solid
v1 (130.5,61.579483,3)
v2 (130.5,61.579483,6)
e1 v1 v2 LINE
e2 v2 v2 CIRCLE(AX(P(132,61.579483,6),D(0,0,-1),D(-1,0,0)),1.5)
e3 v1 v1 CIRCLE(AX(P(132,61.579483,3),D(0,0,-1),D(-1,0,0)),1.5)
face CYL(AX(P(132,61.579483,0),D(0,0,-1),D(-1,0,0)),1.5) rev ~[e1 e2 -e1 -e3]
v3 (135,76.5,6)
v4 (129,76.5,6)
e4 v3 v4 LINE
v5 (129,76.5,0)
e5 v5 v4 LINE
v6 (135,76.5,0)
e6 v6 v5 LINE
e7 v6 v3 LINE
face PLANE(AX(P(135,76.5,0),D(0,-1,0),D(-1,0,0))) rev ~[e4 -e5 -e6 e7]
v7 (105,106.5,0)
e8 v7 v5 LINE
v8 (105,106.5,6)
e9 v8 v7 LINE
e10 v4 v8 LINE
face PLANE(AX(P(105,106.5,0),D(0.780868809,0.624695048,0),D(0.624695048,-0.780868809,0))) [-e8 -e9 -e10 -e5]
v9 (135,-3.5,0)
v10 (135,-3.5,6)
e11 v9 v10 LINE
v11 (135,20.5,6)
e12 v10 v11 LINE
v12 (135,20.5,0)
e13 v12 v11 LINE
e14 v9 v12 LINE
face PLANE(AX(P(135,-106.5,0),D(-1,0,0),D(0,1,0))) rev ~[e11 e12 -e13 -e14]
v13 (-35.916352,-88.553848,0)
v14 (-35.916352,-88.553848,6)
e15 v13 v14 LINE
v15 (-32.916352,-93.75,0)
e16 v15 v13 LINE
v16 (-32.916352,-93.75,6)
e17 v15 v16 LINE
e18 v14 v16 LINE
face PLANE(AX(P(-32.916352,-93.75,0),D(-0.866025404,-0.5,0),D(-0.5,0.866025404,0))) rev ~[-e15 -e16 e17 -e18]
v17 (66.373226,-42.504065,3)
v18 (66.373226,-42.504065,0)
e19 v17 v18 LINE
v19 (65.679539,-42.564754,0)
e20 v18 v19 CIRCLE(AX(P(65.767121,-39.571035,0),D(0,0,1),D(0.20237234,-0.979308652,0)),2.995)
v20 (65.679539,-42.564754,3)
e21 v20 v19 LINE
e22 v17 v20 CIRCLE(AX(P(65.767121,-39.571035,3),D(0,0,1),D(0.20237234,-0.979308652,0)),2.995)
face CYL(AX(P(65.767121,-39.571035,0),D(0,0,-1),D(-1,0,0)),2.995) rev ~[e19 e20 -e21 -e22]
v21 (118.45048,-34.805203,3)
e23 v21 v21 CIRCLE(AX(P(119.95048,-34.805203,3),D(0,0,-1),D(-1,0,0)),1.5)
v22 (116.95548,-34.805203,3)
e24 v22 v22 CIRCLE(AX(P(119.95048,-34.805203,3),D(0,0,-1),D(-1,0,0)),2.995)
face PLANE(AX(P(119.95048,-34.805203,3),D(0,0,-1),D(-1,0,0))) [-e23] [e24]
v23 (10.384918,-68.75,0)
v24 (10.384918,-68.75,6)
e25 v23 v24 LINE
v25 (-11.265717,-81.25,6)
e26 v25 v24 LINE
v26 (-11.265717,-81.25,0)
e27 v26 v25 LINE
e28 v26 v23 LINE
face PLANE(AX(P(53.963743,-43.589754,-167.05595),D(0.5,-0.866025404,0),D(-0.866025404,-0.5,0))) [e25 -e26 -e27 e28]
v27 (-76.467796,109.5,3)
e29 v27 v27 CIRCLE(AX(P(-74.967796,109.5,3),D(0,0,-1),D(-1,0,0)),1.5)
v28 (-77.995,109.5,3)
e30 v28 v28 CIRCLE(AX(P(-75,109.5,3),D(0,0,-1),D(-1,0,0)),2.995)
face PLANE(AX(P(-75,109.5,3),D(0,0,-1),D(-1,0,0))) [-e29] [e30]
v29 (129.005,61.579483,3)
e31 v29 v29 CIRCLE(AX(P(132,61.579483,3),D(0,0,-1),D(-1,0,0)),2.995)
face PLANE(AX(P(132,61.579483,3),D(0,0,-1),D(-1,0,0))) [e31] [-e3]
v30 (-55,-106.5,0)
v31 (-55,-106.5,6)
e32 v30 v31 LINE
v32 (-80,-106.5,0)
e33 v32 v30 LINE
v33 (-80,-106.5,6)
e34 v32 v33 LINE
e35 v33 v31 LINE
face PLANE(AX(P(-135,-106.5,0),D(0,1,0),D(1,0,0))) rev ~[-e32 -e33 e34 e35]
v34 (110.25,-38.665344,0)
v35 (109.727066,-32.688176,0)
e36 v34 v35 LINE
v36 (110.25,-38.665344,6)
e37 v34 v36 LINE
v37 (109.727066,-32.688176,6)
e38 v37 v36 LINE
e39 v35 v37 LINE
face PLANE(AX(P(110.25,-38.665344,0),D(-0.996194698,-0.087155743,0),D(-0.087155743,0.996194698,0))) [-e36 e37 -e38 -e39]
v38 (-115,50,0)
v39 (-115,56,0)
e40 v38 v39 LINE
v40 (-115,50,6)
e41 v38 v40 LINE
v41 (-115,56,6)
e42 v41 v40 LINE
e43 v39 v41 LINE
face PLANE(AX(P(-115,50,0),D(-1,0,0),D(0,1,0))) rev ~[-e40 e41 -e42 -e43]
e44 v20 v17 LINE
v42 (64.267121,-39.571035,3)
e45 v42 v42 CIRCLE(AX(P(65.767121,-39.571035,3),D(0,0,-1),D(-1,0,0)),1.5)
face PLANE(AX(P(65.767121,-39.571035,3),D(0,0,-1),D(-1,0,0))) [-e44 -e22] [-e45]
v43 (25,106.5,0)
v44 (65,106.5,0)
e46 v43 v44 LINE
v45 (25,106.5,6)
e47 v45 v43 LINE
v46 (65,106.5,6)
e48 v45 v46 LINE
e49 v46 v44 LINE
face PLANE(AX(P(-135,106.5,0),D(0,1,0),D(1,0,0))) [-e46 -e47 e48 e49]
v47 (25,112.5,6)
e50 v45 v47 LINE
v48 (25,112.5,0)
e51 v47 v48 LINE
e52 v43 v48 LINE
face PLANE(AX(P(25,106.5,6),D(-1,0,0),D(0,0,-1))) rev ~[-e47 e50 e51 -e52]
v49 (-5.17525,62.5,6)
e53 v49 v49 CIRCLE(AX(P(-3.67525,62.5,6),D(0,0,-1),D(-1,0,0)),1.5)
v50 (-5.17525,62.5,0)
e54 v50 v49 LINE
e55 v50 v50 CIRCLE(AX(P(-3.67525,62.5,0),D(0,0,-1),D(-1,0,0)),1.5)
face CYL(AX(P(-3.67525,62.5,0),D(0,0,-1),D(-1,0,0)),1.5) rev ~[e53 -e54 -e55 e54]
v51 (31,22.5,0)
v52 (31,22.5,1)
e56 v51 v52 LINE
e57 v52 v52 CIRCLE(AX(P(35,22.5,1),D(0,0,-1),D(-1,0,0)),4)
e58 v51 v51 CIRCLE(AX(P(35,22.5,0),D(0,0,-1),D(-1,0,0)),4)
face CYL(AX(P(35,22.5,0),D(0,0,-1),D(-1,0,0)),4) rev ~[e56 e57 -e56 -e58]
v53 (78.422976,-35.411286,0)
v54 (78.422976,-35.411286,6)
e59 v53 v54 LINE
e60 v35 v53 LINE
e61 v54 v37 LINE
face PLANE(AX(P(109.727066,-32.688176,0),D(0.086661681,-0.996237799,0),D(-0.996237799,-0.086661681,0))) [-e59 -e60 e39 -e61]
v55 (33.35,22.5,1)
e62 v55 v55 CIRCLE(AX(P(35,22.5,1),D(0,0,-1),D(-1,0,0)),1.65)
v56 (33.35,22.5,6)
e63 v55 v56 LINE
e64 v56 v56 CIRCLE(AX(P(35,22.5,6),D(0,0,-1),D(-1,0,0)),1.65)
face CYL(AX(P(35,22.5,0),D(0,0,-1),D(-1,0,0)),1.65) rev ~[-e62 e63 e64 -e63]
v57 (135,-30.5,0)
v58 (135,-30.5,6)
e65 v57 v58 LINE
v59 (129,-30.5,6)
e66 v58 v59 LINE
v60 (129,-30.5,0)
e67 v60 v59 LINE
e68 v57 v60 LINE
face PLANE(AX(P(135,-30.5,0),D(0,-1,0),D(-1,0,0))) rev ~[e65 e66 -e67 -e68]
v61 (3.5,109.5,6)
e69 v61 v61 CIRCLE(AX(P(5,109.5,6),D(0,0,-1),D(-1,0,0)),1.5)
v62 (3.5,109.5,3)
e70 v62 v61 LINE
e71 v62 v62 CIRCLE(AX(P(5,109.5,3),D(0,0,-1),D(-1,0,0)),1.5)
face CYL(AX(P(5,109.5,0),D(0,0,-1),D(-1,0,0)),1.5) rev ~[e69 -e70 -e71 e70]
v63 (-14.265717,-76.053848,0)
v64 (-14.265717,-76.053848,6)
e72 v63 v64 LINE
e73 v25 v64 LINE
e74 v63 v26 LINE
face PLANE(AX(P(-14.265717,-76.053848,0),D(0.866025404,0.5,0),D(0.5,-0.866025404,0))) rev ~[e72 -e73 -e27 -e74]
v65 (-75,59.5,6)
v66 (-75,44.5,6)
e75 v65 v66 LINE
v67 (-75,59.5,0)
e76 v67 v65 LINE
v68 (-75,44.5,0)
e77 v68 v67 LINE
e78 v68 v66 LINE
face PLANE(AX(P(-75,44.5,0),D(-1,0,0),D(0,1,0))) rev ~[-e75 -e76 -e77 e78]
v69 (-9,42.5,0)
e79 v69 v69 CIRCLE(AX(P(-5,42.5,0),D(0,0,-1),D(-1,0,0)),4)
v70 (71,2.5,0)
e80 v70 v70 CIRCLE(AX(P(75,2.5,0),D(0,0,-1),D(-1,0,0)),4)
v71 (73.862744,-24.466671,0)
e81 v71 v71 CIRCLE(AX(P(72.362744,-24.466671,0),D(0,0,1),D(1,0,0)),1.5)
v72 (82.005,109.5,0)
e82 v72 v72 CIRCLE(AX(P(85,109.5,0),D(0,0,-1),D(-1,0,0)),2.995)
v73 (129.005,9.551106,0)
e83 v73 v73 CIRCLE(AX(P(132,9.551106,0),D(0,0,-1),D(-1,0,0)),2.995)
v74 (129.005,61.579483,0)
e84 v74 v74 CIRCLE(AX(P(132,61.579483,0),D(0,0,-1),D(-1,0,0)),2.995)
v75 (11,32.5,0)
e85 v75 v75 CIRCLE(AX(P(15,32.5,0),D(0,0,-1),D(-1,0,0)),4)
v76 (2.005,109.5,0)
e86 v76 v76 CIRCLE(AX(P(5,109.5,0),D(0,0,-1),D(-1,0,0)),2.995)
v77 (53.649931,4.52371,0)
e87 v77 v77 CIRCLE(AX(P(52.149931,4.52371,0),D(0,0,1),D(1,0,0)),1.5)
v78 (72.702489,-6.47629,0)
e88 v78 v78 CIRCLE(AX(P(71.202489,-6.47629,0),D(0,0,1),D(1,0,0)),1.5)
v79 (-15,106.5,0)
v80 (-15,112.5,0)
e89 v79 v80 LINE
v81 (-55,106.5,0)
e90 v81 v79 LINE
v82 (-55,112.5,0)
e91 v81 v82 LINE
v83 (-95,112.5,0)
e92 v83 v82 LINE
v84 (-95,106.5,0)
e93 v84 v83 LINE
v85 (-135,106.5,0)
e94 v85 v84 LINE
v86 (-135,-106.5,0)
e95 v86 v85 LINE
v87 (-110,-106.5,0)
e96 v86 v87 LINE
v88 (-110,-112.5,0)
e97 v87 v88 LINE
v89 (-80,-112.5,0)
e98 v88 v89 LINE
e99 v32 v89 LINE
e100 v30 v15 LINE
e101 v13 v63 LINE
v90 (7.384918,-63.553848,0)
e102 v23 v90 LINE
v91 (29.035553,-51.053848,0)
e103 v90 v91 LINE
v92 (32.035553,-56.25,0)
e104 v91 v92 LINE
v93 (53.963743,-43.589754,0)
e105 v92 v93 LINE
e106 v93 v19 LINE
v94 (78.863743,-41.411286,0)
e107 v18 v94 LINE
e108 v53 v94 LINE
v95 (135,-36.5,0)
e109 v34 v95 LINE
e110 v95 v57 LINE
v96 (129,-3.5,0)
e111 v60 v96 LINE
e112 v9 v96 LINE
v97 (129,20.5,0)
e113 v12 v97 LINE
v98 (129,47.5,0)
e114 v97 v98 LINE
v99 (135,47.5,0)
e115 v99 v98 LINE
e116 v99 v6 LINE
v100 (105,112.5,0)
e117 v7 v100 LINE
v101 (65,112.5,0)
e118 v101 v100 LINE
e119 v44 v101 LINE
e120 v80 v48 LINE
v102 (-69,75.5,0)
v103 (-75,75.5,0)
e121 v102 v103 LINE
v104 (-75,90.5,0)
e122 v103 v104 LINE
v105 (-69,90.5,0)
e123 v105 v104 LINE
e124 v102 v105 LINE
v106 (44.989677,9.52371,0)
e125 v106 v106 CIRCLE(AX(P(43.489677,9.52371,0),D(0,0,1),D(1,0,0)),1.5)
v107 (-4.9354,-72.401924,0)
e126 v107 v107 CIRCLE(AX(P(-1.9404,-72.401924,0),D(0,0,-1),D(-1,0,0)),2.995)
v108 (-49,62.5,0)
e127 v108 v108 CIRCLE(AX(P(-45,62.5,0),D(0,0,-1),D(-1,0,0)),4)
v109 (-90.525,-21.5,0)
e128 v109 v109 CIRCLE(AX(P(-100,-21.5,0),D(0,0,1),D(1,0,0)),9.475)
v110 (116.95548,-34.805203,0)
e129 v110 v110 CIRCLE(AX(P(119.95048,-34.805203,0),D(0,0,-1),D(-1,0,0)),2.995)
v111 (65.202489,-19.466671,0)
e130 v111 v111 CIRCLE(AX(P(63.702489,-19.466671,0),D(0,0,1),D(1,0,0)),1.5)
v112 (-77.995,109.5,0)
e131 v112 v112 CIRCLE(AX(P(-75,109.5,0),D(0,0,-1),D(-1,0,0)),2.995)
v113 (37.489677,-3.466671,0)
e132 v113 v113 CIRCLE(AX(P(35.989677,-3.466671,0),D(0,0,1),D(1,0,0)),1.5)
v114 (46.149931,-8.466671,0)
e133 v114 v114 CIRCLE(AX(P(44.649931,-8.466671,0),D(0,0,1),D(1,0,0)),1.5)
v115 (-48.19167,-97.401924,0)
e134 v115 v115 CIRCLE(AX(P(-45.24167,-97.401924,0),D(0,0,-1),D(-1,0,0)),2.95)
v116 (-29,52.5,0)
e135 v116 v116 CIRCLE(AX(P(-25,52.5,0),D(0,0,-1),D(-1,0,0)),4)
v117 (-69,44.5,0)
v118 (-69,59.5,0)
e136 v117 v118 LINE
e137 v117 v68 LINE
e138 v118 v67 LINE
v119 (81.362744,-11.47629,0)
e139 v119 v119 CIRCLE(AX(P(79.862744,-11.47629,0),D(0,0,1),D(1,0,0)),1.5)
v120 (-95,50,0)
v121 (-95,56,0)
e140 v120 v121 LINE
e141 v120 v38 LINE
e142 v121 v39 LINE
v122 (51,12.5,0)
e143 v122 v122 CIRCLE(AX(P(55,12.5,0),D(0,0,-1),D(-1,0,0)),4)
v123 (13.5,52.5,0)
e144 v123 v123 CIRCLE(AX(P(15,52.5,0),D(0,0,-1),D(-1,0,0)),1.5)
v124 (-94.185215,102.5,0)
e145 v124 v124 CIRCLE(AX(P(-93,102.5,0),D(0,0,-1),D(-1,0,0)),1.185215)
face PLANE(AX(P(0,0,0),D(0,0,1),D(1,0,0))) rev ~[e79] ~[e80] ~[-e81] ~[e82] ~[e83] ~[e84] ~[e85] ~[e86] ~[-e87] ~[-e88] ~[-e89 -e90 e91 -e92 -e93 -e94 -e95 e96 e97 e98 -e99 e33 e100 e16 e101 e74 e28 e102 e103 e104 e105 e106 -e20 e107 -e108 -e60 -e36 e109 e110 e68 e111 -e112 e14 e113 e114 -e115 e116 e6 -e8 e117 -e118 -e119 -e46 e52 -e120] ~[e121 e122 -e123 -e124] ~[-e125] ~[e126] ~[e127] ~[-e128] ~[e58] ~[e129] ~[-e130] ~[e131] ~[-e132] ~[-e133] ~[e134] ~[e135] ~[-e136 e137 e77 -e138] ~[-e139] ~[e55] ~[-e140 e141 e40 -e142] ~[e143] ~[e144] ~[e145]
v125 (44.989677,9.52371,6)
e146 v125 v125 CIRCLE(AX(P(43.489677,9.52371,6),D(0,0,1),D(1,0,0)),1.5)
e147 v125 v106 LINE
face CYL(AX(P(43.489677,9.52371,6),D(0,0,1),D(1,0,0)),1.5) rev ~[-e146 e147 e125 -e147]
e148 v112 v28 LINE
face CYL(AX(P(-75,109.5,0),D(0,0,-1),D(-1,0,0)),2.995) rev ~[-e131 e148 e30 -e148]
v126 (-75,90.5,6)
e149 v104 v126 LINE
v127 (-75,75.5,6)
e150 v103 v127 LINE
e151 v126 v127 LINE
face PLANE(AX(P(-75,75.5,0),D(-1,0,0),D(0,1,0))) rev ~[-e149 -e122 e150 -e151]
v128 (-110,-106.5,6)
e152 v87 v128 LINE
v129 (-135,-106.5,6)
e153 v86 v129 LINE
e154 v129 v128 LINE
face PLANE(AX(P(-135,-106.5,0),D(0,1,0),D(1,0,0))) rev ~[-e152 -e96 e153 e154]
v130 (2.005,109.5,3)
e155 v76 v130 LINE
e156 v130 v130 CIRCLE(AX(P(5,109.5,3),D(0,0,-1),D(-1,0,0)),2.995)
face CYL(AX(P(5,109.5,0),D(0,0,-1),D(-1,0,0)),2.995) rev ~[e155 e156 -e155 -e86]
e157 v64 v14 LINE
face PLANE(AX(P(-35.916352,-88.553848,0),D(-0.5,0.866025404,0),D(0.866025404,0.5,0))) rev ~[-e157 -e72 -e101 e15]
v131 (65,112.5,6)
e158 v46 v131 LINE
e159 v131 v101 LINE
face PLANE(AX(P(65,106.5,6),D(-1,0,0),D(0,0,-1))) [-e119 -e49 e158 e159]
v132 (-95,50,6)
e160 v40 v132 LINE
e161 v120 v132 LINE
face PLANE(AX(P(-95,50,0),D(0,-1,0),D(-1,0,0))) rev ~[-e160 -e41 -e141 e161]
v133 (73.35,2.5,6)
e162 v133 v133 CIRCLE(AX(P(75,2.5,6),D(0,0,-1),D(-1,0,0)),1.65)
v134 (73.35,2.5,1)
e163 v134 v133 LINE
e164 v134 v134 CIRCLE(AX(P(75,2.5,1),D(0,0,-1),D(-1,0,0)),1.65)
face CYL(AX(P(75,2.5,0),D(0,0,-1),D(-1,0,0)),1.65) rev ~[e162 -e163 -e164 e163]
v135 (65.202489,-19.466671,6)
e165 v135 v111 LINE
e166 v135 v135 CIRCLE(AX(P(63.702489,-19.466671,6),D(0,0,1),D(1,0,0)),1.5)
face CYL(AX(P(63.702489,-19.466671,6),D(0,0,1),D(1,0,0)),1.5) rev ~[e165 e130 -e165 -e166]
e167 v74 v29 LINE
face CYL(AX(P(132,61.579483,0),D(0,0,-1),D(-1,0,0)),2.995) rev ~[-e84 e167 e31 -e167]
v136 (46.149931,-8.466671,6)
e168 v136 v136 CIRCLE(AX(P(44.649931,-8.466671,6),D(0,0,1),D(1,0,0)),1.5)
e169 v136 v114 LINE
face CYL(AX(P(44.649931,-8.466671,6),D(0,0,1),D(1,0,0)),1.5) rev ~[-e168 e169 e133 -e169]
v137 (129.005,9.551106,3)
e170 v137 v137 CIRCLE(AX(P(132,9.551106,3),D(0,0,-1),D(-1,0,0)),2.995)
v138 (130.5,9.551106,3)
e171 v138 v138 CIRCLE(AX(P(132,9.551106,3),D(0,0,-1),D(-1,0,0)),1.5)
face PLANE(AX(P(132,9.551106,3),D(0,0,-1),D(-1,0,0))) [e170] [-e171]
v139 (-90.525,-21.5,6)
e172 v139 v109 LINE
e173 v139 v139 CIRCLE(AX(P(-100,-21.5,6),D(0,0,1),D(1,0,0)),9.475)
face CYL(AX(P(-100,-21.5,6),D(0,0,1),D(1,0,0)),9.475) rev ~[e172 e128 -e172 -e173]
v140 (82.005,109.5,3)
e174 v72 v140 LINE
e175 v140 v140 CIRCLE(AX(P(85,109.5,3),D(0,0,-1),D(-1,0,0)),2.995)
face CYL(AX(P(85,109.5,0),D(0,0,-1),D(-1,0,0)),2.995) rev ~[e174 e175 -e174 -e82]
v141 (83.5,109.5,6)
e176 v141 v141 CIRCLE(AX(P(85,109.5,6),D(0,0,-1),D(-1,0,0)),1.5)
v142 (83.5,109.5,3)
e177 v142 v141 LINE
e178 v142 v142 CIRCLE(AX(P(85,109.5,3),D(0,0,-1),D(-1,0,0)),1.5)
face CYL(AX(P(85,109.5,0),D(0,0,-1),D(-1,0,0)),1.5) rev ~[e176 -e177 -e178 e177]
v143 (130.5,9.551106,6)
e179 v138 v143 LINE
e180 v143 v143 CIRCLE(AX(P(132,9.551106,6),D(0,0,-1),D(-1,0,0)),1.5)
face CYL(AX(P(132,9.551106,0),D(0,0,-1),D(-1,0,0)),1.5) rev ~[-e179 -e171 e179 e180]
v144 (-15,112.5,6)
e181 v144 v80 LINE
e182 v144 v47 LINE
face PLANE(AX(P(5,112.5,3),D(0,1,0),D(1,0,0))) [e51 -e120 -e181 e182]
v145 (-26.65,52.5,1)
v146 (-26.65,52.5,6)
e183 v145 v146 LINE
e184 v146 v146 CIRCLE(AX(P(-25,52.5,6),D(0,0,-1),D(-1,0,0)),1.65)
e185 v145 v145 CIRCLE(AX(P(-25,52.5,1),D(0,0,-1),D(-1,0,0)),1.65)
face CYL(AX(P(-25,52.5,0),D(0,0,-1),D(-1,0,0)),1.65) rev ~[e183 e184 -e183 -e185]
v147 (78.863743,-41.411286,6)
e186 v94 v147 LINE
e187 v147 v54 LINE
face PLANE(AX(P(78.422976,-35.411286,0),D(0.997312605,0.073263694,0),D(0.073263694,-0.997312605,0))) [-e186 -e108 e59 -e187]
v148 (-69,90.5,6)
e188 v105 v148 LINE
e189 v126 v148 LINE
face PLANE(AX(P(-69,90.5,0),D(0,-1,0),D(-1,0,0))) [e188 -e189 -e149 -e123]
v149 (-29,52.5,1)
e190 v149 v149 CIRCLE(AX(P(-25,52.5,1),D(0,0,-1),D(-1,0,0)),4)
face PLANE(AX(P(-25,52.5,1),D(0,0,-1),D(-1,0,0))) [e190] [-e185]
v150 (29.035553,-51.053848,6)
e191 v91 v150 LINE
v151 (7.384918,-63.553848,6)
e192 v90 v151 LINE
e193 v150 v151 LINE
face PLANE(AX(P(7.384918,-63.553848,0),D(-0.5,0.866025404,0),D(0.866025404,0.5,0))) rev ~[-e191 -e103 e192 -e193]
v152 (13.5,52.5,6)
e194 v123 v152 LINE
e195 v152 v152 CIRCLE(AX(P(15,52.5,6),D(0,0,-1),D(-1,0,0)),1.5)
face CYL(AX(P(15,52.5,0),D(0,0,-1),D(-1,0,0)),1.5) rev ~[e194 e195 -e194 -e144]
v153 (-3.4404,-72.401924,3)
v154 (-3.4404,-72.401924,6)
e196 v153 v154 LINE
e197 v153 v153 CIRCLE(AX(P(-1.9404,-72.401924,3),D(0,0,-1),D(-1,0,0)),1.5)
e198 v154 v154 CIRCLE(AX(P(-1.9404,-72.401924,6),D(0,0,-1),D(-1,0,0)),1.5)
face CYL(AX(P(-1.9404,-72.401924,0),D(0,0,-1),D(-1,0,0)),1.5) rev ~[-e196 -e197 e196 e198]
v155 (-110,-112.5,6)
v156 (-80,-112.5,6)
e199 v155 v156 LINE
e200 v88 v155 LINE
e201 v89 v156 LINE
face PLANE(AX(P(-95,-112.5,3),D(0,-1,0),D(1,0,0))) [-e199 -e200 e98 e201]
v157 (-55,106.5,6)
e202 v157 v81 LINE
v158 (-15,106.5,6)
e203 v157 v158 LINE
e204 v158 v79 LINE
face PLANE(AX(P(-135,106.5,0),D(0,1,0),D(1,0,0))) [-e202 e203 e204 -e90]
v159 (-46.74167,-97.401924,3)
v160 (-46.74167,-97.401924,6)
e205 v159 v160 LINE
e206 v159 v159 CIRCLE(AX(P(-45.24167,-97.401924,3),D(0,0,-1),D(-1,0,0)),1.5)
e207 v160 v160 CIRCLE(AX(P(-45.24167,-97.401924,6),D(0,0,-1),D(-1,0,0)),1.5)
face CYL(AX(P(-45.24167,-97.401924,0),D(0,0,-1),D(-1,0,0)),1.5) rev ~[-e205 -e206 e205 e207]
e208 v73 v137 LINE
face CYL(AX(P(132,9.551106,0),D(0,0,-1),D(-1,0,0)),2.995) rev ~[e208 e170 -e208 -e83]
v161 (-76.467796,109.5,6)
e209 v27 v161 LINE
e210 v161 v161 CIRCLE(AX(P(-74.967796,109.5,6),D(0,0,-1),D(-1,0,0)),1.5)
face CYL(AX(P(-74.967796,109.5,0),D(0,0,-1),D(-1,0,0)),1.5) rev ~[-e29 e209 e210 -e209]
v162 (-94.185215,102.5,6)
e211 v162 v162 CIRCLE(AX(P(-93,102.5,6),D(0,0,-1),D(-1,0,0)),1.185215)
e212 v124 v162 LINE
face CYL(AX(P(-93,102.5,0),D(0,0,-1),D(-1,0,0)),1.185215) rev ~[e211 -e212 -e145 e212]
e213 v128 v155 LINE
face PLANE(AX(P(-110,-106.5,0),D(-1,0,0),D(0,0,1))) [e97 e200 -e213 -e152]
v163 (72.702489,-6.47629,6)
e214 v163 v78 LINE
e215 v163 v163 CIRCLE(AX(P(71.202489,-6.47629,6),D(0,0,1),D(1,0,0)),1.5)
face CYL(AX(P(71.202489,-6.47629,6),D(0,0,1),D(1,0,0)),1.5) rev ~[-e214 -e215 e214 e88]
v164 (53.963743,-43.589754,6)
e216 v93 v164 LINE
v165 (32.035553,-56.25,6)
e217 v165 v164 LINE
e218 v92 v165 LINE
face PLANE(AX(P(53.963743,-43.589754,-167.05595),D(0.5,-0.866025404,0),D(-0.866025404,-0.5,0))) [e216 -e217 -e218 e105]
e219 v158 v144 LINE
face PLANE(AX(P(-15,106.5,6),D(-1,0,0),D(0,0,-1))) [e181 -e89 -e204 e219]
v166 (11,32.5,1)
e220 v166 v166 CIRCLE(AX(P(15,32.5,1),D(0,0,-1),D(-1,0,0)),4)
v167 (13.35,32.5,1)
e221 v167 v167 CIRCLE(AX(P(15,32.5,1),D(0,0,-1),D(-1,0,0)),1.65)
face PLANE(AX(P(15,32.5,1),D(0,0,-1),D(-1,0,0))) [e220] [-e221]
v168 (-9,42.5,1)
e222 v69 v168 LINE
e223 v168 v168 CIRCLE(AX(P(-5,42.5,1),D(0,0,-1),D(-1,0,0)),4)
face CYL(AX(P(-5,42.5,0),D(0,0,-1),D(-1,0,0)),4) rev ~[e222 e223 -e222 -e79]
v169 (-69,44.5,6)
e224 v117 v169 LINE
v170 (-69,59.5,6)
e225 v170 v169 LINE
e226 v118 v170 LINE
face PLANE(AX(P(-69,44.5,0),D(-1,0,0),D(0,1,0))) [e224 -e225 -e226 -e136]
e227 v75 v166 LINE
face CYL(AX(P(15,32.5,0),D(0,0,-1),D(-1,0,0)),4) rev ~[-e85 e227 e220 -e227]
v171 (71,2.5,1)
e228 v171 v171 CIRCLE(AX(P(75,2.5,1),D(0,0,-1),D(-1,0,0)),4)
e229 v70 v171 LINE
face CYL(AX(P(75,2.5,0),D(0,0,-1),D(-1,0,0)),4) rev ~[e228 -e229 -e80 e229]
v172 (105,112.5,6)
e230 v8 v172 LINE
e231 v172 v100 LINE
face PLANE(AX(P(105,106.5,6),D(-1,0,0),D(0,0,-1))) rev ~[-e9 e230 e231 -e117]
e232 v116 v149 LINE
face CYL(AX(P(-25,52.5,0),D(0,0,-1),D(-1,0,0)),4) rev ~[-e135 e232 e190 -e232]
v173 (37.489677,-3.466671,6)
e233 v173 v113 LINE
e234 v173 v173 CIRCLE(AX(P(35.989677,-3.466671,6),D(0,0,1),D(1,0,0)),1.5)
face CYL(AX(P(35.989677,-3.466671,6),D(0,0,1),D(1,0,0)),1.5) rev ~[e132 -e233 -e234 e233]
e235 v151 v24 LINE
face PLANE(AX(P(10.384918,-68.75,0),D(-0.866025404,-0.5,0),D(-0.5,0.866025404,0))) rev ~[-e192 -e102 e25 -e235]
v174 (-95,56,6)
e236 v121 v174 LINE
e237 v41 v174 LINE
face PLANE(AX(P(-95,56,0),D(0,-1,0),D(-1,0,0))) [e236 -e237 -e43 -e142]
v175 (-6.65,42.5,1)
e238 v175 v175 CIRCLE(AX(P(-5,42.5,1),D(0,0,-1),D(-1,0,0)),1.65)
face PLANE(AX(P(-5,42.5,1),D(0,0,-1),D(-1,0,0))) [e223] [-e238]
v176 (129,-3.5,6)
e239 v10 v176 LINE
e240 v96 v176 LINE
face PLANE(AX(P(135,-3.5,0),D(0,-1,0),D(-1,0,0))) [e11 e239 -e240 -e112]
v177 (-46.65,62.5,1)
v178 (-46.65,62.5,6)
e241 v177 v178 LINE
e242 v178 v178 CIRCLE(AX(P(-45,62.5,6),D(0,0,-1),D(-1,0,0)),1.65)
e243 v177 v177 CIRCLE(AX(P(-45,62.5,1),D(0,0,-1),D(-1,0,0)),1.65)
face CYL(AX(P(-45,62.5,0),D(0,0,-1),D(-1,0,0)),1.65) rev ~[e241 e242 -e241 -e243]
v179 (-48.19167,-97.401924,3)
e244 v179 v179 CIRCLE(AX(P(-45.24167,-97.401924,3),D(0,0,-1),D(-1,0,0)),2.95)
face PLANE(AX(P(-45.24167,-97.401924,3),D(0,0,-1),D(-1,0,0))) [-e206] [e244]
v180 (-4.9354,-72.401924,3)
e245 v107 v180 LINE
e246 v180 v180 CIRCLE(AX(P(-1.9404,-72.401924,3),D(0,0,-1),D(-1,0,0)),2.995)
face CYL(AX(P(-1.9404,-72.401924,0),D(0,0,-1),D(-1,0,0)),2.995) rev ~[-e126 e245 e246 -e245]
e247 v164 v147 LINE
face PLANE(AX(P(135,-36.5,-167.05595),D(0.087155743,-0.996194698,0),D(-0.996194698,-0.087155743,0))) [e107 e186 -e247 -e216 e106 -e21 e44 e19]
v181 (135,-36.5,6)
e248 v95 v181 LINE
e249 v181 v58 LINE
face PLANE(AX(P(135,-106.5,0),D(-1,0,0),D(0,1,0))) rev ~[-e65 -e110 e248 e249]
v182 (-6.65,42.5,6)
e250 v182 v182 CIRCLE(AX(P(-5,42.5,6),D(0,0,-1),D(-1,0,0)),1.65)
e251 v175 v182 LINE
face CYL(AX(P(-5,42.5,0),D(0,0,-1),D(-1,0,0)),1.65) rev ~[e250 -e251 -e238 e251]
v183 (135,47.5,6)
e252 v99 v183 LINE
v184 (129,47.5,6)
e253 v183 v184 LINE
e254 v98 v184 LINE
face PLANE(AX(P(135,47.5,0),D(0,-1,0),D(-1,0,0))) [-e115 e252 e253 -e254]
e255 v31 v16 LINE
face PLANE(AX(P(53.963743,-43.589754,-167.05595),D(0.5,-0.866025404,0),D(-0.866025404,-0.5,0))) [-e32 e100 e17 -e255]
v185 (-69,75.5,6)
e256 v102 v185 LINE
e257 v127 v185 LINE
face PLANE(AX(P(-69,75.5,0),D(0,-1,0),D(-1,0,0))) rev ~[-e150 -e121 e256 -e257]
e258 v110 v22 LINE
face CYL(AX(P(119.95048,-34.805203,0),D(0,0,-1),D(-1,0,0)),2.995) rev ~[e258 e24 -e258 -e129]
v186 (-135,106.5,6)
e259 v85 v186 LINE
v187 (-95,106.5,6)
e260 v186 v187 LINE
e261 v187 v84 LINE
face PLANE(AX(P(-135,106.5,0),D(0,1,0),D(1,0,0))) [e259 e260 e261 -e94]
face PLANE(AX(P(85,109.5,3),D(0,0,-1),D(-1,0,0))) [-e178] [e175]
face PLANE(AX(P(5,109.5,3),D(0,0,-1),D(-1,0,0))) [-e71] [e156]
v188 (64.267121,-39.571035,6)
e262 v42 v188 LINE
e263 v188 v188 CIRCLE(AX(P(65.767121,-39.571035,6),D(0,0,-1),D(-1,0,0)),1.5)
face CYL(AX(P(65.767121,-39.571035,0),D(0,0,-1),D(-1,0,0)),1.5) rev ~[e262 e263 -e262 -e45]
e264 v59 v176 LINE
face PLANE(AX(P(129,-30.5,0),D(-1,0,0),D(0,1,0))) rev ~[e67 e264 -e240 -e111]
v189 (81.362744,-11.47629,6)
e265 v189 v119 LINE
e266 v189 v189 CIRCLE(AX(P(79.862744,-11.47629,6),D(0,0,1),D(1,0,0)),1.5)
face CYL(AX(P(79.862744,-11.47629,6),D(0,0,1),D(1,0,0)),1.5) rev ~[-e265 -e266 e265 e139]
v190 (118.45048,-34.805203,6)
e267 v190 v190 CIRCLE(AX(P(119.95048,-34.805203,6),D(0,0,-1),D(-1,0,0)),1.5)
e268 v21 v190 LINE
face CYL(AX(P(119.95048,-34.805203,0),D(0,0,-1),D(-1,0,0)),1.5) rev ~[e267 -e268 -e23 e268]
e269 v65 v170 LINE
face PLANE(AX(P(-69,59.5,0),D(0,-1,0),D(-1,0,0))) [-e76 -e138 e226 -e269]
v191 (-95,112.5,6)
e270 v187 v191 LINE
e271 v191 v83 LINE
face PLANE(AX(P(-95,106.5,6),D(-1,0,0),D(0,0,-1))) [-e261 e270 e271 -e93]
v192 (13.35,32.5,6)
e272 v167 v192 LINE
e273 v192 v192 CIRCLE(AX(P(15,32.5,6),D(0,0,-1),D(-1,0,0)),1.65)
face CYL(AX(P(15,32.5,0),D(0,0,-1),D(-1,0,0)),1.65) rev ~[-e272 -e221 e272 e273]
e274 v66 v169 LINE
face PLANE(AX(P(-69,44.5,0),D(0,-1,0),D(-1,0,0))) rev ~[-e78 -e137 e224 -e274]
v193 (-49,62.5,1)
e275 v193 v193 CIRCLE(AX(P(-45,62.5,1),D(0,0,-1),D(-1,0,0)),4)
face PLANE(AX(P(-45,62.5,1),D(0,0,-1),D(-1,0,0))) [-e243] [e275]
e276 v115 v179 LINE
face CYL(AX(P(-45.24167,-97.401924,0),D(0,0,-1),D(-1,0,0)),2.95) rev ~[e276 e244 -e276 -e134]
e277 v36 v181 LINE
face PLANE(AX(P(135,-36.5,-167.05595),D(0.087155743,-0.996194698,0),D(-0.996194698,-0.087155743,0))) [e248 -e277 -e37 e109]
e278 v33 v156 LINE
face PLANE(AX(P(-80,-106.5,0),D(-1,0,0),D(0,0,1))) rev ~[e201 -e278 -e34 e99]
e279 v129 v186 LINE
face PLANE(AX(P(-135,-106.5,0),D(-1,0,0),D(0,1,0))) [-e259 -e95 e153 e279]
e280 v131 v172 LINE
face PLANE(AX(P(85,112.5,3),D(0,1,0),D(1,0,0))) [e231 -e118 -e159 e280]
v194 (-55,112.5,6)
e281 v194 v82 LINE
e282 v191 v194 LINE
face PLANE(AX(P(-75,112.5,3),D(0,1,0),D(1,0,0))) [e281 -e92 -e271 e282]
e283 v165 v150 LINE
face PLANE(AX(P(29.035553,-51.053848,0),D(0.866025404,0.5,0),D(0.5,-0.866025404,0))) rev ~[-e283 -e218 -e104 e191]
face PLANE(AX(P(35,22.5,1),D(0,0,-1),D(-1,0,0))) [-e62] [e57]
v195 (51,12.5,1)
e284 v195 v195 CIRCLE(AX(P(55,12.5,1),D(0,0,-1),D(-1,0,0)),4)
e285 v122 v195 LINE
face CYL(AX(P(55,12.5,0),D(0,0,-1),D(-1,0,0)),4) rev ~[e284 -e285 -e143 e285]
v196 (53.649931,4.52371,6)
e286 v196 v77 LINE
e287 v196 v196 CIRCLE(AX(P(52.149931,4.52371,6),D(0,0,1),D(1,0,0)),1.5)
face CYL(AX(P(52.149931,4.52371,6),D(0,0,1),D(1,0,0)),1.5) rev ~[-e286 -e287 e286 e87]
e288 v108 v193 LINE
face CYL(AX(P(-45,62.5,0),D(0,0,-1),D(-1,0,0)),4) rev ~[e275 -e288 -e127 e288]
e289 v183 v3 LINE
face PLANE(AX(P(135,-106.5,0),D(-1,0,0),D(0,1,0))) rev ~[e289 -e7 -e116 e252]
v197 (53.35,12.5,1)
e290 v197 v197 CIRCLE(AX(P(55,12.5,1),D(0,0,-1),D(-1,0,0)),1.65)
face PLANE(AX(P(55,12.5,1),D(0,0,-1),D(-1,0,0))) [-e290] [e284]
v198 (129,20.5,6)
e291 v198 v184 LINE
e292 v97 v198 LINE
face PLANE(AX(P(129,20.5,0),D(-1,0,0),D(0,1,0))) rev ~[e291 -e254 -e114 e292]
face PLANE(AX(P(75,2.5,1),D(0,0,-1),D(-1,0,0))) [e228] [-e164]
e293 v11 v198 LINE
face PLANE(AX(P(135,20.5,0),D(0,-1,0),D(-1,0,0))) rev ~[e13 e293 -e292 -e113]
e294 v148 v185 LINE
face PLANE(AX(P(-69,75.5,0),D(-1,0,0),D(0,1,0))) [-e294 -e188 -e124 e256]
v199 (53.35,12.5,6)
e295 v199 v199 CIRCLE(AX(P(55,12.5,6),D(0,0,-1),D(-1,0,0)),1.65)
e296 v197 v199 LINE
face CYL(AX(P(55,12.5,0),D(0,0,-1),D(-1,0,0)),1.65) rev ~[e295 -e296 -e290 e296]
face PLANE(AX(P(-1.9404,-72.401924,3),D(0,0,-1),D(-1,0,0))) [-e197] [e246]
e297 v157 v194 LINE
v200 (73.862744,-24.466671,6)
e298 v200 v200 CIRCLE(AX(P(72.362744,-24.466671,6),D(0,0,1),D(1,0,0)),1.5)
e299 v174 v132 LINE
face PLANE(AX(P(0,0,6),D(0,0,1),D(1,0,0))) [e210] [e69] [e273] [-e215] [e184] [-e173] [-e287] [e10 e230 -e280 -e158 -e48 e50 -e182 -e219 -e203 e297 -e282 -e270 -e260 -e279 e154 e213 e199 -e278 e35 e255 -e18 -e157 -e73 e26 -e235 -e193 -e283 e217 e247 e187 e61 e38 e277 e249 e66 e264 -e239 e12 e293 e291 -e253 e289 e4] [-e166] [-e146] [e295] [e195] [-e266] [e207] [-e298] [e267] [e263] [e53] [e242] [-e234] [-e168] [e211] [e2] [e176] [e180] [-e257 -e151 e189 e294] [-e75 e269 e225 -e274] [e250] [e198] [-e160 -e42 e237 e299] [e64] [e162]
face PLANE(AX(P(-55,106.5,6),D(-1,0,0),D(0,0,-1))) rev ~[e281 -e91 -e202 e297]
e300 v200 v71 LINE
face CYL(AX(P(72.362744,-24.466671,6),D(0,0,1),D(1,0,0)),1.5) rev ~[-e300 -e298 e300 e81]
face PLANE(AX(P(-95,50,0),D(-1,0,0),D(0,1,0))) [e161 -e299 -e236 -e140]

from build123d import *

# Parameters (mm, degrees)
ESQUISSE1_W                   = 270
ESQUISSE1_H                   = 213
BOSS_EXTRU_1_DEPTH            = 6
ESQUISSE3_R                   = 9.475
ESQUISSE3_R_2                 = 1.5
ENL_V_MAT_EXTRU_1_DEPTH       = 10
ENL_V_MAT_EXTRU_11_DEPTH      = 173.055950202
ENL_V_MAT_EXTRU_11_DEPTH_BACK = 173.055950202
ESQUISSE6_W                   = 40
ESQUISSE6_H                   = 6
BOSS_EXTRU_2_DEPTH            = 6
ESQUISSE7_W                   = 6
ESQUISSE7_H                   = 30
ESQUISSE7_H_2                 = 27
ENL_V_MAT_EXTRU_12_DEPTH      = 6
ESQUISSE8_W                   = 30
ESQUISSE8_H                   = 6
BOSS_EXTRU_3_DEPTH            = 6
ENL_V_MAT_EXTRU_13_DEPTH      = 176.833017377
ENL_V_MAT_EXTRU_14_DEPTH      = 10
ESQUISSE11_W                  = 6
ESQUISSE11_H                  = 15
ENL_V_MAT_EXTRU_15_DEPTH      = 176.833017377
ESQUISSE12_R                  = 1.65
ESQUISSE12_R_2                = 1.185214878
ESQUISSE12_R_3                = 1.5
ENL_V_MAT_EXTRU_16_DEPTH      = 176.833017377
ENL_V_MAT_EXTRU_17_DEPTH      = 176.833017377
ESQUISSE14_R                  = 4
ENL_V_MAT_EXTRU_18_DEPTH      = 1
ESQUISSE15_R                  = 2.995
ESQUISSE15_R_2                = 2.95
ENL_V_MAT_EXTRU_19_DEPTH      = 3
ESQUISSE16_R                  = 1.5
ENL_V_MAT_EXTRU_20_DEPTH      = 10
ESQUISSE17_W                  = 20
ESQUISSE17_H                  = 6
ENL_V_MAT_EXTRU_22_DEPTH      = 10


with BuildPart() as part:
    # Esquisse1 → Boss.-Extru.1 (new body)
    with BuildSketch(Plane.XY):
        Rectangle(ESQUISSE1_W, ESQUISSE1_H)
    extrude(amount=BOSS_EXTRU_1_DEPTH)

    # Esquisse3 → Enlèv. mat.-Extru.1 (cut)
    with BuildSketch(Plane.XY.offset(6)):
        with Locations((-100, -21.5)):
            Circle(ESQUISSE3_R)
        with Locations((43.489676576, 9.523710062)):
            Circle(ESQUISSE3_R_2)
        with Locations((52.149930614, 4.523710062)):
            Circle(ESQUISSE3_R_2)
        with Locations((35.989676576, -3.466670994)):
            Circle(ESQUISSE3_R_2)
        with Locations((44.649930614, -8.466670994)):
            Circle(ESQUISSE3_R_2)
        with Locations((63.702489497, -19.466670994)):
            Circle(ESQUISSE3_R_2)
        with Locations((72.362743535, -24.466670994)):
            Circle(ESQUISSE3_R_2)
        with Locations((79.862743535, -11.476289938)):
            Circle(ESQUISSE3_R_2)
        with Locations((71.202489497, -6.476289938)):
            Circle(ESQUISSE3_R_2)
    extrude(amount=-ENL_V_MAT_EXTRU_1_DEPTH, mode=Mode.SUBTRACT)

    # Esquisse5 → Enlèv. mat.-Extru.11 (cut, two sides: drawn at the far end of the back side and taken through both)
    with BuildSketch(Plane.XY.offset(6).offset(-ENL_V_MAT_EXTRU_11_DEPTH_BACK)):
        Polygon((135, -36.5), (53.963742643, -43.589753853), (-55, -106.5), (135, -106.5), align=None)
    extrude(amount=ENL_V_MAT_EXTRU_11_DEPTH + ENL_V_MAT_EXTRU_11_DEPTH_BACK, mode=Mode.SUBTRACT)

    # Esquisse6 → Boss.-Extru.2 (add)
    with BuildSketch(Plane(origin=(0, 106.5, 0), x_dir=(1, 0, 0), z_dir=(0, 1, 0))):
        with Locations((-75, -3)):
            Rectangle(ESQUISSE6_W, ESQUISSE6_H)
        with Locations((5, -3)):
            Rectangle(ESQUISSE6_W, ESQUISSE6_H)
        with Locations((85, -3)):
            Rectangle(ESQUISSE6_W, ESQUISSE6_H)
    extrude(amount=BOSS_EXTRU_2_DEPTH)

    # Esquisse7 → Enlèv. mat.-Extru.12 (cut)
    with BuildSketch(Plane(origin=(0, 0, 0), x_dir=(-1, 0, 0), z_dir=(0, 0, -1))):
        with Locations((-132, 91.5)):
            Rectangle(ESQUISSE7_W, ESQUISSE7_H)
        with Locations((-132, 34)):
            Rectangle(ESQUISSE7_W, ESQUISSE7_H_2)
        with Locations((-132, -17)):
            Rectangle(ESQUISSE7_W, ESQUISSE7_H_2)
    extrude(amount=-ENL_V_MAT_EXTRU_12_DEPTH, mode=Mode.SUBTRACT)

    # Esquisse8 → Boss.-Extru.3 (add)
    with BuildSketch(Plane.XZ.offset(106.5)):
        with Locations((-95, 3)):
            Rectangle(ESQUISSE8_W, ESQUISSE8_H)
    extrude(amount=BOSS_EXTRU_3_DEPTH)

    # Esquisse9 → Enlèv. mat.-Extru.13 (cut, through all)
    with BuildSketch(Plane(origin=(0, 0, 0), x_dir=(-1, 0, 0), z_dir=(0, 0, -1))):
        Polygon((-110.25, -38.665344422), (-109.727065544, -32.688176234), (-78.422975963, -35.411286132), (-78.863742643, -41.411286132), align=None)
    extrude(amount=-ENL_V_MAT_EXTRU_13_DEPTH, mode=Mode.SUBTRACT)

    # Esquisse10 → Enlèv. mat.-Extru.14 (cut)
    with BuildSketch(Plane(origin=(0, 0, 0), x_dir=(-1, 0, 0), z_dir=(0, 0, -1))):
        Polygon((-32.03555308, -56.25), (-10.384917986, -68.75), (-7.384917986, -63.553847577), (-29.03555308, -51.053847577), align=None)
        Polygon((11.265717109, -81.25), (32.916352203, -93.75), (35.916352203, -88.553847577), (14.265717109, -76.053847577), align=None)
    extrude(amount=-ENL_V_MAT_EXTRU_14_DEPTH, mode=Mode.SUBTRACT)

    # Esquisse11 → Enlèv. mat.-Extru.15 (cut, through all)
    with BuildSketch(Plane(origin=(0, 0, 0), x_dir=(-1, 0, 0), z_dir=(0, 0, -1))):
        with Locations((72, 52)):
            Rectangle(ESQUISSE11_W, ESQUISSE11_H)
        with Locations((72, 83)):
            Rectangle(ESQUISSE11_W, ESQUISSE11_H)
    extrude(amount=-ENL_V_MAT_EXTRU_15_DEPTH, mode=Mode.SUBTRACT)

    # Esquisse12 → Enlèv. mat.-Extru.16 (cut, through all)
    with BuildSketch(Plane(origin=(0, 0, 0), x_dir=(-1, 0, 0), z_dir=(0, 0, -1))):
        with Locations((5, 42.5)):
            Circle(ESQUISSE12_R)
        with Locations((-15, 32.5)):
            Circle(ESQUISSE12_R)
        with Locations((-35, 22.5)):
            Circle(ESQUISSE12_R)
        with Locations((-55, 12.5)):
            Circle(ESQUISSE12_R)
        with Locations((-75, 2.5)):
            Circle(ESQUISSE12_R)
        with Locations((25, 52.5)):
            Circle(ESQUISSE12_R)
        with Locations((45, 62.5)):
            Circle(ESQUISSE12_R)
        with Locations((93, 102.5)):
            Circle(ESQUISSE12_R_2)
        with Locations((3.675250237, 62.5)):
            Circle(ESQUISSE12_R_3)
        with Locations((-15, 52.5)):
            Circle(ESQUISSE12_R_3)
    extrude(amount=-ENL_V_MAT_EXTRU_16_DEPTH, mode=Mode.SUBTRACT)

    # Esquisse13 → Enlèv. mat.-Extru.17 (cut, through all)
    with BuildSketch(Plane(origin=(0, 0, 0), x_dir=(-1, 0, 0), z_dir=(0, 0, -1))):
        Polygon((-129, 76.5), (-129, 106.5), (-105, 106.5), align=None)
    extrude(amount=-ENL_V_MAT_EXTRU_17_DEPTH, mode=Mode.SUBTRACT)

    # Esquisse14 → Enlèv. mat.-Extru.18 (cut)
    with BuildSketch(Plane(origin=(0, 0, 0), x_dir=(-1, 0, 0), z_dir=(0, 0, -1))):
        with Locations((-75, 2.5)):
            Circle(ESQUISSE14_R)
        with Locations((-55, 12.5)):
            Circle(ESQUISSE14_R)
        with Locations((-35, 22.5)):
            Circle(ESQUISSE14_R)
        with Locations((-15, 32.5)):
            Circle(ESQUISSE14_R)
        with Locations((5, 42.5)):
            Circle(ESQUISSE14_R)
        with Locations((25, 52.5)):
            Circle(ESQUISSE14_R)
        with Locations((45, 62.5)):
            Circle(ESQUISSE14_R)
    extrude(amount=-ENL_V_MAT_EXTRU_18_DEPTH, mode=Mode.SUBTRACT)

    # Esquisse15 → Enlèv. mat.-Extru.19 (cut)
    with BuildSketch(Plane(origin=(0, 0, 0), x_dir=(-1, 0, 0), z_dir=(0, 0, -1))):
        with Locations((-85, 109.5)):
            Circle(ESQUISSE15_R)
        with Locations((-5, 109.5)):
            Circle(ESQUISSE15_R)
        with Locations((75, 109.5)):
            Circle(ESQUISSE15_R)
        with Locations((1.940399562, -72.401923789)):
            Circle(ESQUISSE15_R)
        with Locations((-65.76712105, -39.571035308)):
            Circle(ESQUISSE15_R)
        with Locations((45.241669751, -97.401923789)):
            Circle(ESQUISSE15_R_2)
        with Locations((-132, 9.551106058)):
            Circle(ESQUISSE15_R)
        with Locations((-132, 61.579483335)):
            Circle(ESQUISSE15_R)
        with Locations((-119.950479753, -34.805202901)):
            Circle(ESQUISSE15_R)
    extrude(amount=-ENL_V_MAT_EXTRU_19_DEPTH, mode=Mode.SUBTRACT)

    # Esquisse16 → Enlèv. mat.-Extru.20 (cut)
    with BuildSketch(Plane(origin=(0, 0, 0), x_dir=(-1, 0, 0), z_dir=(0, 0, -1))):
        with Locations((-5, 109.5)):
            Circle(ESQUISSE16_R)
        with Locations((74.967795866, 109.5)):
            Circle(ESQUISSE16_R)
        with Locations((-85, 109.5)):
            Circle(ESQUISSE16_R)
        with Locations((-132, 61.579483335)):
            Circle(ESQUISSE16_R)
        with Locations((-132, 9.551106058)):
            Circle(ESQUISSE16_R)
        with Locations((-119.950479753, -34.805202901)):
            Circle(ESQUISSE16_R)
        with Locations((-65.76712105, -39.571035308)):
            Circle(ESQUISSE16_R)
        with Locations((1.940399562, -72.401923789)):
            Circle(ESQUISSE16_R)
        with Locations((45.241669751, -97.401923789)):
            Circle(ESQUISSE16_R)
    extrude(amount=-ENL_V_MAT_EXTRU_20_DEPTH, mode=Mode.SUBTRACT)

    # Esquisse17 → Enlèv. mat.-Extru.22 (cut)
    with BuildSketch(Plane(origin=(0, 0, 0), x_dir=(-1, 0, 0), z_dir=(0, 0, -1))):
        with Locations((105, 53)):
            Rectangle(ESQUISSE17_W, ESQUISSE17_H)
    extrude(amount=-ENL_V_MAT_EXTRU_22_DEPTH, mode=Mode.SUBTRACT)


solid = part.part
